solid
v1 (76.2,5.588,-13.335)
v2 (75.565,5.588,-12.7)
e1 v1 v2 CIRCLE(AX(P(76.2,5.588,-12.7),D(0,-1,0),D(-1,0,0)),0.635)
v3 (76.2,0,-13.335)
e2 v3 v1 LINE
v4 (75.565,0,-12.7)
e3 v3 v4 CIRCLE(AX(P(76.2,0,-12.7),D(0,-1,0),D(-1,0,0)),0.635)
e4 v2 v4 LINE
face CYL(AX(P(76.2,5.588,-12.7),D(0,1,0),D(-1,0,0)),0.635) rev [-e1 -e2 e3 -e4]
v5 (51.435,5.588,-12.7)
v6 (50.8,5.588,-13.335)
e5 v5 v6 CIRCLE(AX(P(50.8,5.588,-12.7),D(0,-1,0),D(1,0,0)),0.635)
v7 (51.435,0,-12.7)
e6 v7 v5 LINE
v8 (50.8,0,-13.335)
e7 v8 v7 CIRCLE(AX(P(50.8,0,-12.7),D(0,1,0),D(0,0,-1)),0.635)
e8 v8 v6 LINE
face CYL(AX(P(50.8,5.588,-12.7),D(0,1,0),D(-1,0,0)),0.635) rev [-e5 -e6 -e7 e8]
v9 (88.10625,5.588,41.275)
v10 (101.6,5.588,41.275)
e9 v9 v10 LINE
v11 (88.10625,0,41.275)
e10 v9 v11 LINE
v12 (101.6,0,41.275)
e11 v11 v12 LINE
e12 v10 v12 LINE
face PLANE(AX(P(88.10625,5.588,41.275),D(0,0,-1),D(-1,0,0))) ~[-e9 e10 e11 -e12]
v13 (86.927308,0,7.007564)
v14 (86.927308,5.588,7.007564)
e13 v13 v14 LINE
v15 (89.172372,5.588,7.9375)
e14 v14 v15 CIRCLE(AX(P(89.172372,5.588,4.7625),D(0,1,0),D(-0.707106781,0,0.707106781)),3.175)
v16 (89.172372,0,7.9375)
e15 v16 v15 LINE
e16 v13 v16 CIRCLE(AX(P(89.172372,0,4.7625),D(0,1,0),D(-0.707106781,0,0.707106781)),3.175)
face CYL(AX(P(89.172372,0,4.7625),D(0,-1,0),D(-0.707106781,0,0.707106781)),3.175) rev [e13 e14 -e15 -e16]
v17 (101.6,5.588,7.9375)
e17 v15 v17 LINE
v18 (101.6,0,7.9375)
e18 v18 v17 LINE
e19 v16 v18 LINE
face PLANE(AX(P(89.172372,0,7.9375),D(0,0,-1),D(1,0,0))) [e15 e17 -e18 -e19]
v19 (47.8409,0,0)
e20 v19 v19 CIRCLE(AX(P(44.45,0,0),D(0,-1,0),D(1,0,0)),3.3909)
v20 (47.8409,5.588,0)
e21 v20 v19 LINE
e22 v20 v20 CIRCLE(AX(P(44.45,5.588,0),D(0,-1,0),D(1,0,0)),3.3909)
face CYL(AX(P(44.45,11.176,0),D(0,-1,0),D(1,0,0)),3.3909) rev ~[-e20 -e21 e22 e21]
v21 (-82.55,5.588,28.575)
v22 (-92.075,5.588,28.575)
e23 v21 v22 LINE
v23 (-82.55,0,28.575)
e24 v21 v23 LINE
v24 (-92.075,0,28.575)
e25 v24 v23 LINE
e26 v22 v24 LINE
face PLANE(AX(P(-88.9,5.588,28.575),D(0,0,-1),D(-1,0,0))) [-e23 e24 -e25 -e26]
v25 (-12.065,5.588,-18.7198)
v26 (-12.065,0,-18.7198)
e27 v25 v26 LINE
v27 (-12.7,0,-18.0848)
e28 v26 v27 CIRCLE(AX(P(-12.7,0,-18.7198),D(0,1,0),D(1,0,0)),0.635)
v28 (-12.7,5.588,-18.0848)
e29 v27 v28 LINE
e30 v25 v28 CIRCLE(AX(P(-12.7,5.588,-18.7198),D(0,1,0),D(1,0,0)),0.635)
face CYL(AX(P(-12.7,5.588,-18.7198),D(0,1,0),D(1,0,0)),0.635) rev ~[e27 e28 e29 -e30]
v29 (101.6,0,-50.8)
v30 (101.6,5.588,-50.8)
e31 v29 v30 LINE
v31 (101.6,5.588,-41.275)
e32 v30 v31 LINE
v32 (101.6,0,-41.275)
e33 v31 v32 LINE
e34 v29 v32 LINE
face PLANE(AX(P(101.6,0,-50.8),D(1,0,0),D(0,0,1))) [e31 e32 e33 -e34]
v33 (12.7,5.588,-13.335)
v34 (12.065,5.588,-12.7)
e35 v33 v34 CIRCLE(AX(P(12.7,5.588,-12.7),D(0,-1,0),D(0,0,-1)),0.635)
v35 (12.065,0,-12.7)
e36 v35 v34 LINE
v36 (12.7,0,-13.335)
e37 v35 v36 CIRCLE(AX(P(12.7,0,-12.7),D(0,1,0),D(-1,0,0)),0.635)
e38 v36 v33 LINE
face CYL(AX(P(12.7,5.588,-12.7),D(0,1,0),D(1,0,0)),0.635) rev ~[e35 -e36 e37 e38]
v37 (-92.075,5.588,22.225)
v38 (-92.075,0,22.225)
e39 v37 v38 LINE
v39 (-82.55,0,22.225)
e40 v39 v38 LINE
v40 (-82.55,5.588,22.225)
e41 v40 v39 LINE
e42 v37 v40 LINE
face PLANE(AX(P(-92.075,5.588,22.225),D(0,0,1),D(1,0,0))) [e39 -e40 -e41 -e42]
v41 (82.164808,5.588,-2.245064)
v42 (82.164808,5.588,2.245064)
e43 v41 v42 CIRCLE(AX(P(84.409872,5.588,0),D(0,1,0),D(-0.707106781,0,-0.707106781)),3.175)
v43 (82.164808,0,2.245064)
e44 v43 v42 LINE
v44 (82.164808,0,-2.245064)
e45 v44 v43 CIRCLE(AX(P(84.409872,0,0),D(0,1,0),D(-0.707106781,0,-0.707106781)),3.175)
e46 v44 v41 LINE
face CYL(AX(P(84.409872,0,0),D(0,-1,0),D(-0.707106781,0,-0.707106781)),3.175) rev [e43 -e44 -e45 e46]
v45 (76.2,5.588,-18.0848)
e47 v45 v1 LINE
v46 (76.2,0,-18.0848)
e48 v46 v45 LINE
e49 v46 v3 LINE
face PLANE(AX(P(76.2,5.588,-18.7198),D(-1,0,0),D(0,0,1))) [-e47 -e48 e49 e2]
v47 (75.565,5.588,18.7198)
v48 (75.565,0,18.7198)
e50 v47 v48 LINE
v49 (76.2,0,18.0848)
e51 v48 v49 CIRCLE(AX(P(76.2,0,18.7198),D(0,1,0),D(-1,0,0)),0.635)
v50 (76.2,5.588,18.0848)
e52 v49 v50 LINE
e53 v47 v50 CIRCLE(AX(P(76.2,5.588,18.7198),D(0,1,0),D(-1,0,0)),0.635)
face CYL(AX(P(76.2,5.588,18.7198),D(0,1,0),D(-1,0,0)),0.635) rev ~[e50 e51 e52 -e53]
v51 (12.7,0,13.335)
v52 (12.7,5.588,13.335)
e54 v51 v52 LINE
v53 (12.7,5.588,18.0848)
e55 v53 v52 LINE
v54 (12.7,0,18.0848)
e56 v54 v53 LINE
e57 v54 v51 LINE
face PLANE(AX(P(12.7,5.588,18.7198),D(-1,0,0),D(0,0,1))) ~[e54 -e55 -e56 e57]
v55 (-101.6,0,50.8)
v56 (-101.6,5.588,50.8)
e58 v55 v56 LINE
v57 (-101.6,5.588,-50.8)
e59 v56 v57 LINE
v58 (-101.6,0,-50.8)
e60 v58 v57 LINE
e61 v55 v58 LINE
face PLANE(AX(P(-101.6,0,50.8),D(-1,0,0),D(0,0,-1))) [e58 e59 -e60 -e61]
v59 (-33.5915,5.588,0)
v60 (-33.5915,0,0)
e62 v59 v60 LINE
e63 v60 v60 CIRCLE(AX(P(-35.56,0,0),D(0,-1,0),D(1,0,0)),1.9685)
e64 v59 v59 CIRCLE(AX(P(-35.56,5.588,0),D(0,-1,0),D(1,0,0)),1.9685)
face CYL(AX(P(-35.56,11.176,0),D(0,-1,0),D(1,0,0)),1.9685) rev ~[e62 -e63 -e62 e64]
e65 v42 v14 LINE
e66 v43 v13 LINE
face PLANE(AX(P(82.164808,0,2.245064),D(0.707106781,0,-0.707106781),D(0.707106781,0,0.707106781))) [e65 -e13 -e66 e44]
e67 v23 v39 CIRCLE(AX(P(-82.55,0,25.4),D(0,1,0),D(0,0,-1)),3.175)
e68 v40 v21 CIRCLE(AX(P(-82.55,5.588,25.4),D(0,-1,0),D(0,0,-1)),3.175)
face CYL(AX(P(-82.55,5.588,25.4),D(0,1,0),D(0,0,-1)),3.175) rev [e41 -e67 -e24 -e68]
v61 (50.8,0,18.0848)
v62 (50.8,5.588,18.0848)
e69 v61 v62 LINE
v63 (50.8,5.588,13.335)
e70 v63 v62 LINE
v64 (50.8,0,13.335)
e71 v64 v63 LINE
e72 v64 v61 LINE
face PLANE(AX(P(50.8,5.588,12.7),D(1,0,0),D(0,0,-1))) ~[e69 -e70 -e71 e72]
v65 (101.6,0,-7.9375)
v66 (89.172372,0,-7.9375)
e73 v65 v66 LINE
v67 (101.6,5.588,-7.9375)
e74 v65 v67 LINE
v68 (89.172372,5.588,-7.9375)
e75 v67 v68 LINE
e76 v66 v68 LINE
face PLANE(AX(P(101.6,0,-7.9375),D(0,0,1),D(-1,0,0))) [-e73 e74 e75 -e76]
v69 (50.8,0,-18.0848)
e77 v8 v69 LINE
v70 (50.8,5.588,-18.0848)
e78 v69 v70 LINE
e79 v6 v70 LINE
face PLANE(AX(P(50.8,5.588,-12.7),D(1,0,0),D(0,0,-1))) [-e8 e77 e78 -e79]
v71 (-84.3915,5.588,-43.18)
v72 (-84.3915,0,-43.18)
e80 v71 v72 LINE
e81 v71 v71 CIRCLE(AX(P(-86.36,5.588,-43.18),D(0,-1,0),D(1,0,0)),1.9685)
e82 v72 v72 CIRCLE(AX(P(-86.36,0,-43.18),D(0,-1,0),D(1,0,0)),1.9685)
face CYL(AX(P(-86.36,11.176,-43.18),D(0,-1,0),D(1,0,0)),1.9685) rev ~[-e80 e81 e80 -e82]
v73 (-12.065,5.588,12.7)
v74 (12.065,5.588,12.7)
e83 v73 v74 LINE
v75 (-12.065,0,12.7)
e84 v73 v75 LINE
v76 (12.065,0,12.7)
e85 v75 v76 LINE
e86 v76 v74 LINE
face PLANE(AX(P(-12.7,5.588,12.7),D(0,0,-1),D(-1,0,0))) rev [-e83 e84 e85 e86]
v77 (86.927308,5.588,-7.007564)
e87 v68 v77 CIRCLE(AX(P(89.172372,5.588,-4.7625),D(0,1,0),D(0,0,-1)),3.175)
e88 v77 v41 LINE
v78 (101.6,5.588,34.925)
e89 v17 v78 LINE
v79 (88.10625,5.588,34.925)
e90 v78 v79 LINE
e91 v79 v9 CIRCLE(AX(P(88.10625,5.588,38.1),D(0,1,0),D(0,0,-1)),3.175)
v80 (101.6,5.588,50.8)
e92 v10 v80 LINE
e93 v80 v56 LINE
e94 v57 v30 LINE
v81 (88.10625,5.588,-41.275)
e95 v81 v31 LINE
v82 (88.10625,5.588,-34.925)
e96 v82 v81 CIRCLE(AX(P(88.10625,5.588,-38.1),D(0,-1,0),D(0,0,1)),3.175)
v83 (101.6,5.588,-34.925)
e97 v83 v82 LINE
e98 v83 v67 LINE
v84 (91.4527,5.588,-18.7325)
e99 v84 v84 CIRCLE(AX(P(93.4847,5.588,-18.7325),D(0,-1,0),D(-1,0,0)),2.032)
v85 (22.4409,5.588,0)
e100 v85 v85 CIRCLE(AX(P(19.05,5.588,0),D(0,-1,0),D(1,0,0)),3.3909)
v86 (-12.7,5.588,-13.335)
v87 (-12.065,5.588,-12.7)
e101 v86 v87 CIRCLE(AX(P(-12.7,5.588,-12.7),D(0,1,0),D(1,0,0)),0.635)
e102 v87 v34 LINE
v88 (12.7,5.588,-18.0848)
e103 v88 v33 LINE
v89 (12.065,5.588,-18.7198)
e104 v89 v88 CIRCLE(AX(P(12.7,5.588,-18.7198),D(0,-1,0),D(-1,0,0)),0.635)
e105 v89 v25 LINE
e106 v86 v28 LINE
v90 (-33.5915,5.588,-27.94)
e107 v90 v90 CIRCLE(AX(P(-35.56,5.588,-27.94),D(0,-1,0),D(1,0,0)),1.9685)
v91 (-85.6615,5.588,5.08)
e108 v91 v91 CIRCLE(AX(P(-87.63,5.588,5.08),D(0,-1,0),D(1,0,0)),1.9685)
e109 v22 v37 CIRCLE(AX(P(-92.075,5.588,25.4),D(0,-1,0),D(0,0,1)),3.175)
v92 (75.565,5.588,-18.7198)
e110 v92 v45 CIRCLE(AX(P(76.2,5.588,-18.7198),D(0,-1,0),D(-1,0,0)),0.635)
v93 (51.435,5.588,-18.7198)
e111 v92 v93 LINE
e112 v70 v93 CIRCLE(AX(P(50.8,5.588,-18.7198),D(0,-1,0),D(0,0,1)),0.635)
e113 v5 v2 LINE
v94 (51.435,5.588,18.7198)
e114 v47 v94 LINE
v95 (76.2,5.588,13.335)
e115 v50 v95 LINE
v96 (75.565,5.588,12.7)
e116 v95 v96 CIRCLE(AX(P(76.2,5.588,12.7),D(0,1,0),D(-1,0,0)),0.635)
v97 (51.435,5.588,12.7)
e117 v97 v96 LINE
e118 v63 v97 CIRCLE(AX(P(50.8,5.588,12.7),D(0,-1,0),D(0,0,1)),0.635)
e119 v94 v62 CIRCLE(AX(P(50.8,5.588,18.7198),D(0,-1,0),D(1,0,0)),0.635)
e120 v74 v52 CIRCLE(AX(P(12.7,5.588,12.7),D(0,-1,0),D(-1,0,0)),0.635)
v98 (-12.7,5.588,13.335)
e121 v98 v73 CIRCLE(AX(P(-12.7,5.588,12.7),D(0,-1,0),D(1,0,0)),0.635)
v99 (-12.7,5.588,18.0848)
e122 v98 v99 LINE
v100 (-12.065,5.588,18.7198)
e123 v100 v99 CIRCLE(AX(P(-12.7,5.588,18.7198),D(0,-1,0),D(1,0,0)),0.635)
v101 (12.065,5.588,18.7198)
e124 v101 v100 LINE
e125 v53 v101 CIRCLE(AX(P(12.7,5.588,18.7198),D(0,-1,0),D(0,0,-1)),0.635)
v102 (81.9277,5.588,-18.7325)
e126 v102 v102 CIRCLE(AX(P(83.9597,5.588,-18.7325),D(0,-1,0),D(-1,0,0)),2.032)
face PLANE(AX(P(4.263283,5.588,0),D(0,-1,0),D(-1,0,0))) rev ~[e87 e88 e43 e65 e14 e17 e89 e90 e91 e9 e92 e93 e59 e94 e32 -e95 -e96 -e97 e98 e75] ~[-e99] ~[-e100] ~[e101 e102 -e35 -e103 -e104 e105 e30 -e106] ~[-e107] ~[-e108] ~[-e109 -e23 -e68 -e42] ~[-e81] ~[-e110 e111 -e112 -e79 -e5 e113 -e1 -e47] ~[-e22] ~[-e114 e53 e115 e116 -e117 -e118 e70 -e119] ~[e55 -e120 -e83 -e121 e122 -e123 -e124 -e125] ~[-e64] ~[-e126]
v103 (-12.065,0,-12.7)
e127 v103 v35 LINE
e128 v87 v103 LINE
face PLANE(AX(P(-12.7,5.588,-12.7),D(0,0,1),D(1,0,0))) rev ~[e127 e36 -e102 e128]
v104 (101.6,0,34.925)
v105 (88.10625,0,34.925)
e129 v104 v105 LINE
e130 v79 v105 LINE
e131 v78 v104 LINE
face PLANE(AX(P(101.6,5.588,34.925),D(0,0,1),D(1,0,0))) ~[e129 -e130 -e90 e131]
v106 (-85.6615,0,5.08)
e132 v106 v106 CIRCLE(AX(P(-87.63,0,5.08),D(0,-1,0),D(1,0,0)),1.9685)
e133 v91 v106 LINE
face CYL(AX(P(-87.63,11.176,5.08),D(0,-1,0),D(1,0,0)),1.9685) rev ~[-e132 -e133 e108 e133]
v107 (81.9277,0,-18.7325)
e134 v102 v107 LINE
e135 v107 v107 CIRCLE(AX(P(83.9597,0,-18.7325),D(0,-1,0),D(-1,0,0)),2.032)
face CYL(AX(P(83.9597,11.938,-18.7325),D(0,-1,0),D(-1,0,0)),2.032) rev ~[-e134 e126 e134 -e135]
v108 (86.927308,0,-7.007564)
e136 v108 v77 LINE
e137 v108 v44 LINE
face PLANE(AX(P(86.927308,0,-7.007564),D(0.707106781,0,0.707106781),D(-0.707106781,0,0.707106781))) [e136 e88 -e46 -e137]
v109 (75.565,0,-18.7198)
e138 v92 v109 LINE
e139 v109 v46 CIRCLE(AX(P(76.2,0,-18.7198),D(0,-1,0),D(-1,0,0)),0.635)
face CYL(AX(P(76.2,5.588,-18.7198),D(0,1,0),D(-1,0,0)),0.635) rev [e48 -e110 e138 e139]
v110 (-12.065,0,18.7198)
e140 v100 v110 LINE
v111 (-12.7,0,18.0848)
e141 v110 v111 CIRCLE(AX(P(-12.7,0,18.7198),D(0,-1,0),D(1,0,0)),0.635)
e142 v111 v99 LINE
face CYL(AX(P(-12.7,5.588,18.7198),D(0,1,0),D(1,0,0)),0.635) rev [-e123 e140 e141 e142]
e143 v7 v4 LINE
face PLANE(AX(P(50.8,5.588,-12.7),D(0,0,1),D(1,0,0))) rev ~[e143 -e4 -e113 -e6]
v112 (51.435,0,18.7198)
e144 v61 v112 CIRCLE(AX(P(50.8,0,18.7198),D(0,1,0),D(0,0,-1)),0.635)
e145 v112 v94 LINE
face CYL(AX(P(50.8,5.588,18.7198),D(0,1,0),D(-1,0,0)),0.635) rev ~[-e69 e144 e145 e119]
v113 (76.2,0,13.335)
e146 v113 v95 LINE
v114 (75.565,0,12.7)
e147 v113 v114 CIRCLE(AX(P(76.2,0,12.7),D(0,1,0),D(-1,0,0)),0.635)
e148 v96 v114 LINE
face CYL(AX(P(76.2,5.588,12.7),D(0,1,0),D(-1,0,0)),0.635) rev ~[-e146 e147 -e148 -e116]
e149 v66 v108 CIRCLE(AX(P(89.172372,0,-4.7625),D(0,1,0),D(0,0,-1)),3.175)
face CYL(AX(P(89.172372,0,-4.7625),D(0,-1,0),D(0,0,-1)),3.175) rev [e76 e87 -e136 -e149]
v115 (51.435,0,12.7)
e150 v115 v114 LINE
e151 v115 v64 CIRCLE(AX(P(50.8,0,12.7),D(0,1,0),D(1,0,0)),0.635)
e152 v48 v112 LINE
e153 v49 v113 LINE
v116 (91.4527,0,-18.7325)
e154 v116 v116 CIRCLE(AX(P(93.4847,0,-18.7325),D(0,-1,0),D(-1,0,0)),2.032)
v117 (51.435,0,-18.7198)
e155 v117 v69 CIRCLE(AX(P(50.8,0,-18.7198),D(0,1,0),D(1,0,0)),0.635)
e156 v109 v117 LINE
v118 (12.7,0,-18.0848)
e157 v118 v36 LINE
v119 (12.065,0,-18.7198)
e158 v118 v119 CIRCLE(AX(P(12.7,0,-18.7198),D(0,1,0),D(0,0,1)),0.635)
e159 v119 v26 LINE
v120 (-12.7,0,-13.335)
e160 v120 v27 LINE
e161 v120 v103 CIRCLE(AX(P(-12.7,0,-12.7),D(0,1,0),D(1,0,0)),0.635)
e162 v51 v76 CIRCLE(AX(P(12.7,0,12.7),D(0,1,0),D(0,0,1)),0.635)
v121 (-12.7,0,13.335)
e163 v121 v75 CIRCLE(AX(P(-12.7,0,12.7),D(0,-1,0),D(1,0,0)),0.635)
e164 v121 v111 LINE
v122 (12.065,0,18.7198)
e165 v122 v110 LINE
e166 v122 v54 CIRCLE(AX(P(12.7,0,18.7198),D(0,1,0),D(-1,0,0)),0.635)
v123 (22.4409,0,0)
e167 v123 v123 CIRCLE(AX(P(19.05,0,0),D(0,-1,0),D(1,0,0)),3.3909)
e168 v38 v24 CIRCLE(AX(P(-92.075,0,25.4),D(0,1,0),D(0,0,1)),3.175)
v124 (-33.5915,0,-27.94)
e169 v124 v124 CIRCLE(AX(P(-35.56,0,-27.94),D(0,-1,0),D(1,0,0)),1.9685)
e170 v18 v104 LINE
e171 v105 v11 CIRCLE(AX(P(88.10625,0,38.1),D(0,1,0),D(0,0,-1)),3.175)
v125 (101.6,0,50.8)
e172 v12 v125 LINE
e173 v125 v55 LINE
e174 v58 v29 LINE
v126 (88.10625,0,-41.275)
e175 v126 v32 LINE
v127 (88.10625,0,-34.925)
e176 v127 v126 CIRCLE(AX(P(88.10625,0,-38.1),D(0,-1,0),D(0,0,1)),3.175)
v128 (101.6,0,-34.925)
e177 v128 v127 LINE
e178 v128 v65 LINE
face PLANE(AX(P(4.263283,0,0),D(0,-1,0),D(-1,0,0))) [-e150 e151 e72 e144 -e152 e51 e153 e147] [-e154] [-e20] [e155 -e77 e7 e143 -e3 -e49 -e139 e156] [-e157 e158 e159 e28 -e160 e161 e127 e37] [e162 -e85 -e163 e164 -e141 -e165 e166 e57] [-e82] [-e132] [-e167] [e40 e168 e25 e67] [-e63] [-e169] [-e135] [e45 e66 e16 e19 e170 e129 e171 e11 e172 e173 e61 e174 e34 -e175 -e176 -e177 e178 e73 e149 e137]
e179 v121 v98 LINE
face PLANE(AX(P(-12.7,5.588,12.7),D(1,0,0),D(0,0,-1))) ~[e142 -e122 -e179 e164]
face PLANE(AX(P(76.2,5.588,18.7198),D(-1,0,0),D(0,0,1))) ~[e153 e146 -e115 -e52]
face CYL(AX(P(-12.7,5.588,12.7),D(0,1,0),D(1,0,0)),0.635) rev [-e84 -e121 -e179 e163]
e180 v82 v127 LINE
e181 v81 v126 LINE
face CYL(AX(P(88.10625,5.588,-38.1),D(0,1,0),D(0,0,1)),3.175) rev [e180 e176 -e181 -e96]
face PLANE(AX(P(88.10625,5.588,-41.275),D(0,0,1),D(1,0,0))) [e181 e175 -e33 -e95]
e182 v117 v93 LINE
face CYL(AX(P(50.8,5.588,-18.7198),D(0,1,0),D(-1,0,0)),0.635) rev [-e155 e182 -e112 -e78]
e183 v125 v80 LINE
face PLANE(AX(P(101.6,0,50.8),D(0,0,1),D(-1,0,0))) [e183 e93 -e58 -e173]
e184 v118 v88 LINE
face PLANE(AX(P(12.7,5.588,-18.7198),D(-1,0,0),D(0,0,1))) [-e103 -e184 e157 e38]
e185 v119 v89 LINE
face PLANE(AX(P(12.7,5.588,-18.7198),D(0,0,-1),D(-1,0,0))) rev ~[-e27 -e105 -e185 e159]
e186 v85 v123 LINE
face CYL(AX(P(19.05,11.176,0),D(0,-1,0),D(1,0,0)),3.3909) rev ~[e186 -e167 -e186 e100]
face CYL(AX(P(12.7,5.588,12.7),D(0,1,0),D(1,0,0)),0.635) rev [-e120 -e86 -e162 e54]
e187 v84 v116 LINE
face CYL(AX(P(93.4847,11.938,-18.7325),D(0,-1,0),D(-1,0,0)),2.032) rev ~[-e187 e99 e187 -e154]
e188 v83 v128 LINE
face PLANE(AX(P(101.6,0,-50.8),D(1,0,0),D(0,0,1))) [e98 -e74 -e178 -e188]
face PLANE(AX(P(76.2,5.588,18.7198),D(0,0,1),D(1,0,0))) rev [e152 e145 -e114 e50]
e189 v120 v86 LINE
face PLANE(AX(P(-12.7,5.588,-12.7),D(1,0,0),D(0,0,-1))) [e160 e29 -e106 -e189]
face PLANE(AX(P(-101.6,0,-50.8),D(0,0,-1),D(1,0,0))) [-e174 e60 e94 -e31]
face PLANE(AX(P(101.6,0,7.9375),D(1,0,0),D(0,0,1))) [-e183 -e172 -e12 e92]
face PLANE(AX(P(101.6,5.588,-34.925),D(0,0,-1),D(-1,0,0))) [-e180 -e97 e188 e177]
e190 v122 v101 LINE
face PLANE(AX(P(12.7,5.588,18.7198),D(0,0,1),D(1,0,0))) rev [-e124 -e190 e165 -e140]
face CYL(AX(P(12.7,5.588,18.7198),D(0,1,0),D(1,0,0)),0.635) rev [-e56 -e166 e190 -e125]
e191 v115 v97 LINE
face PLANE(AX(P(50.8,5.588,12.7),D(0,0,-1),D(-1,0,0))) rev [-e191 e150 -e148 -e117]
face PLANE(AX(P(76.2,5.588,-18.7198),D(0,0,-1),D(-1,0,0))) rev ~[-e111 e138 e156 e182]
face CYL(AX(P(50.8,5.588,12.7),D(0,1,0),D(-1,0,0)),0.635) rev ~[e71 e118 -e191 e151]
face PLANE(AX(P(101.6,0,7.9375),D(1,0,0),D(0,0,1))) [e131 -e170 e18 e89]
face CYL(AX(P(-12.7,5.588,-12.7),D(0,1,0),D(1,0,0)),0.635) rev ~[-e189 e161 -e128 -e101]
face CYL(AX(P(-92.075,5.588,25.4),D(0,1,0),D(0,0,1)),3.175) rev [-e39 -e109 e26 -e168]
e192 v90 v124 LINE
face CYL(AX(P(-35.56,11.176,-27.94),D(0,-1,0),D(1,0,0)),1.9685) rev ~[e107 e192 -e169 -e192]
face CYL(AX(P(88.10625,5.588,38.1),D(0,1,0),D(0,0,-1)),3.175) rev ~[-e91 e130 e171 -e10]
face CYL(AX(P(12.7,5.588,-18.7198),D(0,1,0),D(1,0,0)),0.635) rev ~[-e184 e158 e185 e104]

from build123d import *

# Parameters (mm, degrees)
BOSS_EXTRUDE1_DEPTH             = 5.588
F_1_4_CLEARANCE_HOLE1_D         = 6.35
F_1_4_CLEARANCE_HOLE1_DEPTH     = 5.588
CUT_EXTRUDE1_DEPTH              = 5.588
CUT_EXTRUDE2_REACH              = 7.588
F_4_CLEARANCE_HOLE1_D           = 3.937
F_4_CLEARANCE_HOLE1_DEPTH       = 5.588
CUT_EXTRUDE3_DEPTH              = 5.588
SKETCH15_R                      = 0.635
CUT_EXTRUDE5_DEPTH              = 5.588
MIRROR2_COPY_1_SKETCH_R         = 0.635
MIRROR2_COPY_1_DEPTH            = 5.588
F_10_CLEARANCE_HOLE1_D          = 6.7818
F_10_CLEARANCE_HOLE1_DEPTH      = 5.588
TAP_DRILL_FOR_4_HELICOIL1_D     = 4.064
TAP_DRILL_FOR_4_HELICOIL1_DEPTH = 6.35
TAP_DRILL_FOR_4_HELICOIL1_TIP   = 1.220948778
CUT_EXTRUDE4_REACH              = 7.588


with BuildPart() as part:
    # Sketch1 → Boss-Extrude1 (new body)
    with BuildSketch(Plane(origin=(0, 0, 0), x_dir=(1, 0, 0), z_dir=(0, 1, 0))):
        with BuildLine():
            Line((-101.6, 50.8), (101.6, 50.8))
            Line((101.6, 50.8), (101.6, 7.9375))
            Line((101.6, 7.9375), (89.172371939, 7.9375))
            ThreePointArc((89.172371939, 7.9375), (87.957352042, 7.695817516), (86.927307909, 7.00756403))
            Line((86.927307909, 7.00756403), (82.164807909, 2.24506403))
            ThreePointArc((82.164807909, 2.24506403), (81.234871939, 0), (82.164807909, -2.24506403))
            Line((82.164807909, -2.24506403), (86.927307909, -7.00756403))
            ThreePointArc((86.927307909, -7.00756403), (87.957352042, -7.695817516), (89.172371939, -7.9375))
            Line((89.172371939, -7.9375), (101.6, -7.9375))
            Line((101.6, -7.9375), (101.6, -50.8))
            Line((101.6, -50.8), (-101.6, -50.8))
            Line((-101.6, -50.8), (-101.6, 50.8))
        make_face()
    extrude(amount=BOSS_EXTRUDE1_DEPTH)

    # 1/4 Clearance Hole1
    with Locations(Plane(origin=(0, 5.588, 0), x_dir=(-1, 0, 0), z_dir=(0, 1, 0))):
        with Locations((-88.10625, 38.1), (-88.10625, -38.1), (88.9, 25.4)):
            Hole(F_1_4_CLEARANCE_HOLE1_D / 2, depth=F_1_4_CLEARANCE_HOLE1_DEPTH)

    # Sketch4 → Cut-Extrude1 (cut)
    with BuildSketch(Plane(origin=(0, 5.588, 0), x_dir=(1, 0, 0), z_dir=(0, 1, 0))):
        with BuildLine():
            Line((88.10625, 41.275), (101.6, 41.275))
            Line((101.6, 41.275), (101.6, 34.925))
            Line((101.6, 34.925), (88.10625, 34.925))
            ThreePointArc((88.10625, 34.925), (84.93125, 38.1), (88.10625, 41.275))
        make_face()
    cut_extrude1 = extrude(amount=-CUT_EXTRUDE1_DEPTH, mode=Mode.SUBTRACT)

    # Mirror1: Cut-Extrude1 across plane
    add(cut_extrude1.mirror(Plane.XY), mode=Mode.SUBTRACT)

    # Sketch5 → Cut-Extrude2 (cut, up to next)
    with BuildSketch(Plane(origin=(0, 5.588, 0), x_dir=(1, 0, 0), z_dir=(0, 1, 0)), mode=Mode.PRIVATE) as cut_extrude2_sk1:
        with BuildLine():
            Line((-92.075, -22.225), (-88.9, -22.225))
            ThreePointArc((-88.9, -22.225), (-85.725, -25.4), (-88.9, -28.575))
            Line((-88.9, -28.575), (-92.075, -28.575))
            ThreePointArc((-92.075, -28.575), (-95.25, -25.4), (-92.075, -22.225))
        make_face()
    cut_extrude2_tool1 = extrude(cut_extrude2_sk1.sketch, amount=-CUT_EXTRUDE2_REACH, mode=Mode.PRIVATE) & part.part
    add(cut_extrude2_tool1.solids().sort_by_distance((-90.4875, 5.588, 25.4))[0], mode=Mode.SUBTRACT)

    # #4 Clearance Hole1
    with Locations(Plane(origin=(0, 5.588, 0), x_dir=(-1, 0, 0), z_dir=(0, 1, 0))):
        with Locations((86.36, -43.18), (35.56, -27.94), (35.56, 0), (87.63, 5.08)):
            Hole(F_4_CLEARANCE_HOLE1_D / 2, depth=F_4_CLEARANCE_HOLE1_DEPTH)

    # Sketch9 → Cut-Extrude3 (cut)
    with BuildSketch(Plane(origin=(0, 5.588, 0), x_dir=(1, 0, 0), z_dir=(0, 1, 0))):
        Polygon((-6.0325, 18.7198), (6.0325, 18.7198), (6.35, 18.7198), (12.7, 18.7198), (12.7, 12.7), (6.35, 12.7), (6.0325, 12.7), (-6.0325, 12.7), (-6.35, 12.7), (-12.7, 12.7), (-12.7, 18.7198), (-6.35, 18.7198), align=None)
        Polygon((69.5325, 12.7), (57.4675, 12.7), (57.15, 12.7), (50.8, 12.7), (50.8, 18.7198), (57.15, 18.7198), (57.4675, 18.7198), (69.5325, 18.7198), (69.85, 18.7198), (76.2, 18.7198), (76.2, 12.7), (69.85, 12.7), align=None)
    cut_extrude3 = extrude(amount=-CUT_EXTRUDE3_DEPTH, mode=Mode.SUBTRACT)

    # Sketch15 → Cut-Extrude5 (cut)
    with BuildSketch(Plane(origin=(0, 5.588, 0), x_dir=(1, 0, 0), z_dir=(0, 1, 0))):
        with Locations((-12.7, 18.7198)):
            Circle(SKETCH15_R)
        with Locations((12.7, 18.7198)):
            Circle(SKETCH15_R)
        with Locations((12.7, 12.7)):
            Circle(SKETCH15_R)
        with Locations((-12.7, 12.7)):
            Circle(SKETCH15_R)
    cut_extrude5 = extrude(amount=-CUT_EXTRUDE5_DEPTH, mode=Mode.SUBTRACT)

    # Mirror3: Cut-Extrude5 across plane
    add(cut_extrude5.mirror(Plane.ZY.offset(-31.75)), mode=Mode.SUBTRACT)

    # Mirror2: Cut-Extrude3, Cut-Extrude5 across plane
    add(cut_extrude3.mirror(Plane.XY), mode=Mode.SUBTRACT)
    add(cut_extrude5.mirror(Plane.XY), mode=Mode.SUBTRACT)

    # Mirror2 copy 1 sketch → Mirror2 copy 1 (cut)
    with BuildSketch(Plane(origin=(63.5, 5.588, 0), x_dir=(-1, 0, 0), z_dir=(0, 1, 0))):
        with Locations((-12.7, 18.7198)):
            Circle(MIRROR2_COPY_1_SKETCH_R)
        with Locations((12.7, 18.7198)):
            Circle(MIRROR2_COPY_1_SKETCH_R)
        with Locations((12.7, 12.7)):
            Circle(MIRROR2_COPY_1_SKETCH_R)
        with Locations((-12.7, 12.7)):
            Circle(MIRROR2_COPY_1_SKETCH_R)
    extrude(amount=-MIRROR2_COPY_1_DEPTH, mode=Mode.SUBTRACT)

    # #10 Clearance Hole1
    with Locations(Plane(origin=(0, 5.588, 0), x_dir=(-1, 0, 0), z_dir=(0, 1, 0))):
        with Locations((-19.05, 0), (-44.45, 0)):
            Hole(F_10_CLEARANCE_HOLE1_D / 2, depth=F_10_CLEARANCE_HOLE1_DEPTH)

    # Tap Drill for #4 Helicoil1
    with Locations(Plane(origin=(0, 5.588, 0), x_dir=(1, 0, 0), z_dir=(0, 1, 0))):
        with Locations((93.4847, 18.7325), (83.9597, 18.7325)):
            Hole(TAP_DRILL_FOR_4_HELICOIL1_D / 2, depth=TAP_DRILL_FOR_4_HELICOIL1_DEPTH)
            with Locations((0, 0, -(TAP_DRILL_FOR_4_HELICOIL1_DEPTH + TAP_DRILL_FOR_4_HELICOIL1_TIP / 2))):  # 118° drill point
                Cone(0, TAP_DRILL_FOR_4_HELICOIL1_D / 2, TAP_DRILL_FOR_4_HELICOIL1_TIP, mode=Mode.SUBTRACT)

    # Sketch14 → Cut-Extrude4 (cut, up to next)
    with BuildSketch(Plane(origin=(0, 5.588, 0), x_dir=(1, 0, 0), z_dir=(0, 1, 0)), mode=Mode.PRIVATE) as cut_extrude4_sk1:
        with BuildLine():
            Line((-88.9, -22.225), (-82.55, -22.225))
            ThreePointArc((-82.55, -22.225), (-79.375, -25.4), (-82.55, -28.575))
            Line((-82.55, -28.575), (-88.9, -28.575))
            ThreePointArc((-88.9, -28.575), (-85.725, -25.4), (-88.9, -22.225))
        make_face()
    cut_extrude4_tool1 = extrude(cut_extrude4_sk1.sketch, amount=-CUT_EXTRUDE4_REACH, mode=Mode.PRIVATE) & part.part
    add(cut_extrude4_tool1.solids().sort_by_distance((-83.231361, 5.588, 25.4))[0], mode=Mode.SUBTRACT)


solid = part.part
